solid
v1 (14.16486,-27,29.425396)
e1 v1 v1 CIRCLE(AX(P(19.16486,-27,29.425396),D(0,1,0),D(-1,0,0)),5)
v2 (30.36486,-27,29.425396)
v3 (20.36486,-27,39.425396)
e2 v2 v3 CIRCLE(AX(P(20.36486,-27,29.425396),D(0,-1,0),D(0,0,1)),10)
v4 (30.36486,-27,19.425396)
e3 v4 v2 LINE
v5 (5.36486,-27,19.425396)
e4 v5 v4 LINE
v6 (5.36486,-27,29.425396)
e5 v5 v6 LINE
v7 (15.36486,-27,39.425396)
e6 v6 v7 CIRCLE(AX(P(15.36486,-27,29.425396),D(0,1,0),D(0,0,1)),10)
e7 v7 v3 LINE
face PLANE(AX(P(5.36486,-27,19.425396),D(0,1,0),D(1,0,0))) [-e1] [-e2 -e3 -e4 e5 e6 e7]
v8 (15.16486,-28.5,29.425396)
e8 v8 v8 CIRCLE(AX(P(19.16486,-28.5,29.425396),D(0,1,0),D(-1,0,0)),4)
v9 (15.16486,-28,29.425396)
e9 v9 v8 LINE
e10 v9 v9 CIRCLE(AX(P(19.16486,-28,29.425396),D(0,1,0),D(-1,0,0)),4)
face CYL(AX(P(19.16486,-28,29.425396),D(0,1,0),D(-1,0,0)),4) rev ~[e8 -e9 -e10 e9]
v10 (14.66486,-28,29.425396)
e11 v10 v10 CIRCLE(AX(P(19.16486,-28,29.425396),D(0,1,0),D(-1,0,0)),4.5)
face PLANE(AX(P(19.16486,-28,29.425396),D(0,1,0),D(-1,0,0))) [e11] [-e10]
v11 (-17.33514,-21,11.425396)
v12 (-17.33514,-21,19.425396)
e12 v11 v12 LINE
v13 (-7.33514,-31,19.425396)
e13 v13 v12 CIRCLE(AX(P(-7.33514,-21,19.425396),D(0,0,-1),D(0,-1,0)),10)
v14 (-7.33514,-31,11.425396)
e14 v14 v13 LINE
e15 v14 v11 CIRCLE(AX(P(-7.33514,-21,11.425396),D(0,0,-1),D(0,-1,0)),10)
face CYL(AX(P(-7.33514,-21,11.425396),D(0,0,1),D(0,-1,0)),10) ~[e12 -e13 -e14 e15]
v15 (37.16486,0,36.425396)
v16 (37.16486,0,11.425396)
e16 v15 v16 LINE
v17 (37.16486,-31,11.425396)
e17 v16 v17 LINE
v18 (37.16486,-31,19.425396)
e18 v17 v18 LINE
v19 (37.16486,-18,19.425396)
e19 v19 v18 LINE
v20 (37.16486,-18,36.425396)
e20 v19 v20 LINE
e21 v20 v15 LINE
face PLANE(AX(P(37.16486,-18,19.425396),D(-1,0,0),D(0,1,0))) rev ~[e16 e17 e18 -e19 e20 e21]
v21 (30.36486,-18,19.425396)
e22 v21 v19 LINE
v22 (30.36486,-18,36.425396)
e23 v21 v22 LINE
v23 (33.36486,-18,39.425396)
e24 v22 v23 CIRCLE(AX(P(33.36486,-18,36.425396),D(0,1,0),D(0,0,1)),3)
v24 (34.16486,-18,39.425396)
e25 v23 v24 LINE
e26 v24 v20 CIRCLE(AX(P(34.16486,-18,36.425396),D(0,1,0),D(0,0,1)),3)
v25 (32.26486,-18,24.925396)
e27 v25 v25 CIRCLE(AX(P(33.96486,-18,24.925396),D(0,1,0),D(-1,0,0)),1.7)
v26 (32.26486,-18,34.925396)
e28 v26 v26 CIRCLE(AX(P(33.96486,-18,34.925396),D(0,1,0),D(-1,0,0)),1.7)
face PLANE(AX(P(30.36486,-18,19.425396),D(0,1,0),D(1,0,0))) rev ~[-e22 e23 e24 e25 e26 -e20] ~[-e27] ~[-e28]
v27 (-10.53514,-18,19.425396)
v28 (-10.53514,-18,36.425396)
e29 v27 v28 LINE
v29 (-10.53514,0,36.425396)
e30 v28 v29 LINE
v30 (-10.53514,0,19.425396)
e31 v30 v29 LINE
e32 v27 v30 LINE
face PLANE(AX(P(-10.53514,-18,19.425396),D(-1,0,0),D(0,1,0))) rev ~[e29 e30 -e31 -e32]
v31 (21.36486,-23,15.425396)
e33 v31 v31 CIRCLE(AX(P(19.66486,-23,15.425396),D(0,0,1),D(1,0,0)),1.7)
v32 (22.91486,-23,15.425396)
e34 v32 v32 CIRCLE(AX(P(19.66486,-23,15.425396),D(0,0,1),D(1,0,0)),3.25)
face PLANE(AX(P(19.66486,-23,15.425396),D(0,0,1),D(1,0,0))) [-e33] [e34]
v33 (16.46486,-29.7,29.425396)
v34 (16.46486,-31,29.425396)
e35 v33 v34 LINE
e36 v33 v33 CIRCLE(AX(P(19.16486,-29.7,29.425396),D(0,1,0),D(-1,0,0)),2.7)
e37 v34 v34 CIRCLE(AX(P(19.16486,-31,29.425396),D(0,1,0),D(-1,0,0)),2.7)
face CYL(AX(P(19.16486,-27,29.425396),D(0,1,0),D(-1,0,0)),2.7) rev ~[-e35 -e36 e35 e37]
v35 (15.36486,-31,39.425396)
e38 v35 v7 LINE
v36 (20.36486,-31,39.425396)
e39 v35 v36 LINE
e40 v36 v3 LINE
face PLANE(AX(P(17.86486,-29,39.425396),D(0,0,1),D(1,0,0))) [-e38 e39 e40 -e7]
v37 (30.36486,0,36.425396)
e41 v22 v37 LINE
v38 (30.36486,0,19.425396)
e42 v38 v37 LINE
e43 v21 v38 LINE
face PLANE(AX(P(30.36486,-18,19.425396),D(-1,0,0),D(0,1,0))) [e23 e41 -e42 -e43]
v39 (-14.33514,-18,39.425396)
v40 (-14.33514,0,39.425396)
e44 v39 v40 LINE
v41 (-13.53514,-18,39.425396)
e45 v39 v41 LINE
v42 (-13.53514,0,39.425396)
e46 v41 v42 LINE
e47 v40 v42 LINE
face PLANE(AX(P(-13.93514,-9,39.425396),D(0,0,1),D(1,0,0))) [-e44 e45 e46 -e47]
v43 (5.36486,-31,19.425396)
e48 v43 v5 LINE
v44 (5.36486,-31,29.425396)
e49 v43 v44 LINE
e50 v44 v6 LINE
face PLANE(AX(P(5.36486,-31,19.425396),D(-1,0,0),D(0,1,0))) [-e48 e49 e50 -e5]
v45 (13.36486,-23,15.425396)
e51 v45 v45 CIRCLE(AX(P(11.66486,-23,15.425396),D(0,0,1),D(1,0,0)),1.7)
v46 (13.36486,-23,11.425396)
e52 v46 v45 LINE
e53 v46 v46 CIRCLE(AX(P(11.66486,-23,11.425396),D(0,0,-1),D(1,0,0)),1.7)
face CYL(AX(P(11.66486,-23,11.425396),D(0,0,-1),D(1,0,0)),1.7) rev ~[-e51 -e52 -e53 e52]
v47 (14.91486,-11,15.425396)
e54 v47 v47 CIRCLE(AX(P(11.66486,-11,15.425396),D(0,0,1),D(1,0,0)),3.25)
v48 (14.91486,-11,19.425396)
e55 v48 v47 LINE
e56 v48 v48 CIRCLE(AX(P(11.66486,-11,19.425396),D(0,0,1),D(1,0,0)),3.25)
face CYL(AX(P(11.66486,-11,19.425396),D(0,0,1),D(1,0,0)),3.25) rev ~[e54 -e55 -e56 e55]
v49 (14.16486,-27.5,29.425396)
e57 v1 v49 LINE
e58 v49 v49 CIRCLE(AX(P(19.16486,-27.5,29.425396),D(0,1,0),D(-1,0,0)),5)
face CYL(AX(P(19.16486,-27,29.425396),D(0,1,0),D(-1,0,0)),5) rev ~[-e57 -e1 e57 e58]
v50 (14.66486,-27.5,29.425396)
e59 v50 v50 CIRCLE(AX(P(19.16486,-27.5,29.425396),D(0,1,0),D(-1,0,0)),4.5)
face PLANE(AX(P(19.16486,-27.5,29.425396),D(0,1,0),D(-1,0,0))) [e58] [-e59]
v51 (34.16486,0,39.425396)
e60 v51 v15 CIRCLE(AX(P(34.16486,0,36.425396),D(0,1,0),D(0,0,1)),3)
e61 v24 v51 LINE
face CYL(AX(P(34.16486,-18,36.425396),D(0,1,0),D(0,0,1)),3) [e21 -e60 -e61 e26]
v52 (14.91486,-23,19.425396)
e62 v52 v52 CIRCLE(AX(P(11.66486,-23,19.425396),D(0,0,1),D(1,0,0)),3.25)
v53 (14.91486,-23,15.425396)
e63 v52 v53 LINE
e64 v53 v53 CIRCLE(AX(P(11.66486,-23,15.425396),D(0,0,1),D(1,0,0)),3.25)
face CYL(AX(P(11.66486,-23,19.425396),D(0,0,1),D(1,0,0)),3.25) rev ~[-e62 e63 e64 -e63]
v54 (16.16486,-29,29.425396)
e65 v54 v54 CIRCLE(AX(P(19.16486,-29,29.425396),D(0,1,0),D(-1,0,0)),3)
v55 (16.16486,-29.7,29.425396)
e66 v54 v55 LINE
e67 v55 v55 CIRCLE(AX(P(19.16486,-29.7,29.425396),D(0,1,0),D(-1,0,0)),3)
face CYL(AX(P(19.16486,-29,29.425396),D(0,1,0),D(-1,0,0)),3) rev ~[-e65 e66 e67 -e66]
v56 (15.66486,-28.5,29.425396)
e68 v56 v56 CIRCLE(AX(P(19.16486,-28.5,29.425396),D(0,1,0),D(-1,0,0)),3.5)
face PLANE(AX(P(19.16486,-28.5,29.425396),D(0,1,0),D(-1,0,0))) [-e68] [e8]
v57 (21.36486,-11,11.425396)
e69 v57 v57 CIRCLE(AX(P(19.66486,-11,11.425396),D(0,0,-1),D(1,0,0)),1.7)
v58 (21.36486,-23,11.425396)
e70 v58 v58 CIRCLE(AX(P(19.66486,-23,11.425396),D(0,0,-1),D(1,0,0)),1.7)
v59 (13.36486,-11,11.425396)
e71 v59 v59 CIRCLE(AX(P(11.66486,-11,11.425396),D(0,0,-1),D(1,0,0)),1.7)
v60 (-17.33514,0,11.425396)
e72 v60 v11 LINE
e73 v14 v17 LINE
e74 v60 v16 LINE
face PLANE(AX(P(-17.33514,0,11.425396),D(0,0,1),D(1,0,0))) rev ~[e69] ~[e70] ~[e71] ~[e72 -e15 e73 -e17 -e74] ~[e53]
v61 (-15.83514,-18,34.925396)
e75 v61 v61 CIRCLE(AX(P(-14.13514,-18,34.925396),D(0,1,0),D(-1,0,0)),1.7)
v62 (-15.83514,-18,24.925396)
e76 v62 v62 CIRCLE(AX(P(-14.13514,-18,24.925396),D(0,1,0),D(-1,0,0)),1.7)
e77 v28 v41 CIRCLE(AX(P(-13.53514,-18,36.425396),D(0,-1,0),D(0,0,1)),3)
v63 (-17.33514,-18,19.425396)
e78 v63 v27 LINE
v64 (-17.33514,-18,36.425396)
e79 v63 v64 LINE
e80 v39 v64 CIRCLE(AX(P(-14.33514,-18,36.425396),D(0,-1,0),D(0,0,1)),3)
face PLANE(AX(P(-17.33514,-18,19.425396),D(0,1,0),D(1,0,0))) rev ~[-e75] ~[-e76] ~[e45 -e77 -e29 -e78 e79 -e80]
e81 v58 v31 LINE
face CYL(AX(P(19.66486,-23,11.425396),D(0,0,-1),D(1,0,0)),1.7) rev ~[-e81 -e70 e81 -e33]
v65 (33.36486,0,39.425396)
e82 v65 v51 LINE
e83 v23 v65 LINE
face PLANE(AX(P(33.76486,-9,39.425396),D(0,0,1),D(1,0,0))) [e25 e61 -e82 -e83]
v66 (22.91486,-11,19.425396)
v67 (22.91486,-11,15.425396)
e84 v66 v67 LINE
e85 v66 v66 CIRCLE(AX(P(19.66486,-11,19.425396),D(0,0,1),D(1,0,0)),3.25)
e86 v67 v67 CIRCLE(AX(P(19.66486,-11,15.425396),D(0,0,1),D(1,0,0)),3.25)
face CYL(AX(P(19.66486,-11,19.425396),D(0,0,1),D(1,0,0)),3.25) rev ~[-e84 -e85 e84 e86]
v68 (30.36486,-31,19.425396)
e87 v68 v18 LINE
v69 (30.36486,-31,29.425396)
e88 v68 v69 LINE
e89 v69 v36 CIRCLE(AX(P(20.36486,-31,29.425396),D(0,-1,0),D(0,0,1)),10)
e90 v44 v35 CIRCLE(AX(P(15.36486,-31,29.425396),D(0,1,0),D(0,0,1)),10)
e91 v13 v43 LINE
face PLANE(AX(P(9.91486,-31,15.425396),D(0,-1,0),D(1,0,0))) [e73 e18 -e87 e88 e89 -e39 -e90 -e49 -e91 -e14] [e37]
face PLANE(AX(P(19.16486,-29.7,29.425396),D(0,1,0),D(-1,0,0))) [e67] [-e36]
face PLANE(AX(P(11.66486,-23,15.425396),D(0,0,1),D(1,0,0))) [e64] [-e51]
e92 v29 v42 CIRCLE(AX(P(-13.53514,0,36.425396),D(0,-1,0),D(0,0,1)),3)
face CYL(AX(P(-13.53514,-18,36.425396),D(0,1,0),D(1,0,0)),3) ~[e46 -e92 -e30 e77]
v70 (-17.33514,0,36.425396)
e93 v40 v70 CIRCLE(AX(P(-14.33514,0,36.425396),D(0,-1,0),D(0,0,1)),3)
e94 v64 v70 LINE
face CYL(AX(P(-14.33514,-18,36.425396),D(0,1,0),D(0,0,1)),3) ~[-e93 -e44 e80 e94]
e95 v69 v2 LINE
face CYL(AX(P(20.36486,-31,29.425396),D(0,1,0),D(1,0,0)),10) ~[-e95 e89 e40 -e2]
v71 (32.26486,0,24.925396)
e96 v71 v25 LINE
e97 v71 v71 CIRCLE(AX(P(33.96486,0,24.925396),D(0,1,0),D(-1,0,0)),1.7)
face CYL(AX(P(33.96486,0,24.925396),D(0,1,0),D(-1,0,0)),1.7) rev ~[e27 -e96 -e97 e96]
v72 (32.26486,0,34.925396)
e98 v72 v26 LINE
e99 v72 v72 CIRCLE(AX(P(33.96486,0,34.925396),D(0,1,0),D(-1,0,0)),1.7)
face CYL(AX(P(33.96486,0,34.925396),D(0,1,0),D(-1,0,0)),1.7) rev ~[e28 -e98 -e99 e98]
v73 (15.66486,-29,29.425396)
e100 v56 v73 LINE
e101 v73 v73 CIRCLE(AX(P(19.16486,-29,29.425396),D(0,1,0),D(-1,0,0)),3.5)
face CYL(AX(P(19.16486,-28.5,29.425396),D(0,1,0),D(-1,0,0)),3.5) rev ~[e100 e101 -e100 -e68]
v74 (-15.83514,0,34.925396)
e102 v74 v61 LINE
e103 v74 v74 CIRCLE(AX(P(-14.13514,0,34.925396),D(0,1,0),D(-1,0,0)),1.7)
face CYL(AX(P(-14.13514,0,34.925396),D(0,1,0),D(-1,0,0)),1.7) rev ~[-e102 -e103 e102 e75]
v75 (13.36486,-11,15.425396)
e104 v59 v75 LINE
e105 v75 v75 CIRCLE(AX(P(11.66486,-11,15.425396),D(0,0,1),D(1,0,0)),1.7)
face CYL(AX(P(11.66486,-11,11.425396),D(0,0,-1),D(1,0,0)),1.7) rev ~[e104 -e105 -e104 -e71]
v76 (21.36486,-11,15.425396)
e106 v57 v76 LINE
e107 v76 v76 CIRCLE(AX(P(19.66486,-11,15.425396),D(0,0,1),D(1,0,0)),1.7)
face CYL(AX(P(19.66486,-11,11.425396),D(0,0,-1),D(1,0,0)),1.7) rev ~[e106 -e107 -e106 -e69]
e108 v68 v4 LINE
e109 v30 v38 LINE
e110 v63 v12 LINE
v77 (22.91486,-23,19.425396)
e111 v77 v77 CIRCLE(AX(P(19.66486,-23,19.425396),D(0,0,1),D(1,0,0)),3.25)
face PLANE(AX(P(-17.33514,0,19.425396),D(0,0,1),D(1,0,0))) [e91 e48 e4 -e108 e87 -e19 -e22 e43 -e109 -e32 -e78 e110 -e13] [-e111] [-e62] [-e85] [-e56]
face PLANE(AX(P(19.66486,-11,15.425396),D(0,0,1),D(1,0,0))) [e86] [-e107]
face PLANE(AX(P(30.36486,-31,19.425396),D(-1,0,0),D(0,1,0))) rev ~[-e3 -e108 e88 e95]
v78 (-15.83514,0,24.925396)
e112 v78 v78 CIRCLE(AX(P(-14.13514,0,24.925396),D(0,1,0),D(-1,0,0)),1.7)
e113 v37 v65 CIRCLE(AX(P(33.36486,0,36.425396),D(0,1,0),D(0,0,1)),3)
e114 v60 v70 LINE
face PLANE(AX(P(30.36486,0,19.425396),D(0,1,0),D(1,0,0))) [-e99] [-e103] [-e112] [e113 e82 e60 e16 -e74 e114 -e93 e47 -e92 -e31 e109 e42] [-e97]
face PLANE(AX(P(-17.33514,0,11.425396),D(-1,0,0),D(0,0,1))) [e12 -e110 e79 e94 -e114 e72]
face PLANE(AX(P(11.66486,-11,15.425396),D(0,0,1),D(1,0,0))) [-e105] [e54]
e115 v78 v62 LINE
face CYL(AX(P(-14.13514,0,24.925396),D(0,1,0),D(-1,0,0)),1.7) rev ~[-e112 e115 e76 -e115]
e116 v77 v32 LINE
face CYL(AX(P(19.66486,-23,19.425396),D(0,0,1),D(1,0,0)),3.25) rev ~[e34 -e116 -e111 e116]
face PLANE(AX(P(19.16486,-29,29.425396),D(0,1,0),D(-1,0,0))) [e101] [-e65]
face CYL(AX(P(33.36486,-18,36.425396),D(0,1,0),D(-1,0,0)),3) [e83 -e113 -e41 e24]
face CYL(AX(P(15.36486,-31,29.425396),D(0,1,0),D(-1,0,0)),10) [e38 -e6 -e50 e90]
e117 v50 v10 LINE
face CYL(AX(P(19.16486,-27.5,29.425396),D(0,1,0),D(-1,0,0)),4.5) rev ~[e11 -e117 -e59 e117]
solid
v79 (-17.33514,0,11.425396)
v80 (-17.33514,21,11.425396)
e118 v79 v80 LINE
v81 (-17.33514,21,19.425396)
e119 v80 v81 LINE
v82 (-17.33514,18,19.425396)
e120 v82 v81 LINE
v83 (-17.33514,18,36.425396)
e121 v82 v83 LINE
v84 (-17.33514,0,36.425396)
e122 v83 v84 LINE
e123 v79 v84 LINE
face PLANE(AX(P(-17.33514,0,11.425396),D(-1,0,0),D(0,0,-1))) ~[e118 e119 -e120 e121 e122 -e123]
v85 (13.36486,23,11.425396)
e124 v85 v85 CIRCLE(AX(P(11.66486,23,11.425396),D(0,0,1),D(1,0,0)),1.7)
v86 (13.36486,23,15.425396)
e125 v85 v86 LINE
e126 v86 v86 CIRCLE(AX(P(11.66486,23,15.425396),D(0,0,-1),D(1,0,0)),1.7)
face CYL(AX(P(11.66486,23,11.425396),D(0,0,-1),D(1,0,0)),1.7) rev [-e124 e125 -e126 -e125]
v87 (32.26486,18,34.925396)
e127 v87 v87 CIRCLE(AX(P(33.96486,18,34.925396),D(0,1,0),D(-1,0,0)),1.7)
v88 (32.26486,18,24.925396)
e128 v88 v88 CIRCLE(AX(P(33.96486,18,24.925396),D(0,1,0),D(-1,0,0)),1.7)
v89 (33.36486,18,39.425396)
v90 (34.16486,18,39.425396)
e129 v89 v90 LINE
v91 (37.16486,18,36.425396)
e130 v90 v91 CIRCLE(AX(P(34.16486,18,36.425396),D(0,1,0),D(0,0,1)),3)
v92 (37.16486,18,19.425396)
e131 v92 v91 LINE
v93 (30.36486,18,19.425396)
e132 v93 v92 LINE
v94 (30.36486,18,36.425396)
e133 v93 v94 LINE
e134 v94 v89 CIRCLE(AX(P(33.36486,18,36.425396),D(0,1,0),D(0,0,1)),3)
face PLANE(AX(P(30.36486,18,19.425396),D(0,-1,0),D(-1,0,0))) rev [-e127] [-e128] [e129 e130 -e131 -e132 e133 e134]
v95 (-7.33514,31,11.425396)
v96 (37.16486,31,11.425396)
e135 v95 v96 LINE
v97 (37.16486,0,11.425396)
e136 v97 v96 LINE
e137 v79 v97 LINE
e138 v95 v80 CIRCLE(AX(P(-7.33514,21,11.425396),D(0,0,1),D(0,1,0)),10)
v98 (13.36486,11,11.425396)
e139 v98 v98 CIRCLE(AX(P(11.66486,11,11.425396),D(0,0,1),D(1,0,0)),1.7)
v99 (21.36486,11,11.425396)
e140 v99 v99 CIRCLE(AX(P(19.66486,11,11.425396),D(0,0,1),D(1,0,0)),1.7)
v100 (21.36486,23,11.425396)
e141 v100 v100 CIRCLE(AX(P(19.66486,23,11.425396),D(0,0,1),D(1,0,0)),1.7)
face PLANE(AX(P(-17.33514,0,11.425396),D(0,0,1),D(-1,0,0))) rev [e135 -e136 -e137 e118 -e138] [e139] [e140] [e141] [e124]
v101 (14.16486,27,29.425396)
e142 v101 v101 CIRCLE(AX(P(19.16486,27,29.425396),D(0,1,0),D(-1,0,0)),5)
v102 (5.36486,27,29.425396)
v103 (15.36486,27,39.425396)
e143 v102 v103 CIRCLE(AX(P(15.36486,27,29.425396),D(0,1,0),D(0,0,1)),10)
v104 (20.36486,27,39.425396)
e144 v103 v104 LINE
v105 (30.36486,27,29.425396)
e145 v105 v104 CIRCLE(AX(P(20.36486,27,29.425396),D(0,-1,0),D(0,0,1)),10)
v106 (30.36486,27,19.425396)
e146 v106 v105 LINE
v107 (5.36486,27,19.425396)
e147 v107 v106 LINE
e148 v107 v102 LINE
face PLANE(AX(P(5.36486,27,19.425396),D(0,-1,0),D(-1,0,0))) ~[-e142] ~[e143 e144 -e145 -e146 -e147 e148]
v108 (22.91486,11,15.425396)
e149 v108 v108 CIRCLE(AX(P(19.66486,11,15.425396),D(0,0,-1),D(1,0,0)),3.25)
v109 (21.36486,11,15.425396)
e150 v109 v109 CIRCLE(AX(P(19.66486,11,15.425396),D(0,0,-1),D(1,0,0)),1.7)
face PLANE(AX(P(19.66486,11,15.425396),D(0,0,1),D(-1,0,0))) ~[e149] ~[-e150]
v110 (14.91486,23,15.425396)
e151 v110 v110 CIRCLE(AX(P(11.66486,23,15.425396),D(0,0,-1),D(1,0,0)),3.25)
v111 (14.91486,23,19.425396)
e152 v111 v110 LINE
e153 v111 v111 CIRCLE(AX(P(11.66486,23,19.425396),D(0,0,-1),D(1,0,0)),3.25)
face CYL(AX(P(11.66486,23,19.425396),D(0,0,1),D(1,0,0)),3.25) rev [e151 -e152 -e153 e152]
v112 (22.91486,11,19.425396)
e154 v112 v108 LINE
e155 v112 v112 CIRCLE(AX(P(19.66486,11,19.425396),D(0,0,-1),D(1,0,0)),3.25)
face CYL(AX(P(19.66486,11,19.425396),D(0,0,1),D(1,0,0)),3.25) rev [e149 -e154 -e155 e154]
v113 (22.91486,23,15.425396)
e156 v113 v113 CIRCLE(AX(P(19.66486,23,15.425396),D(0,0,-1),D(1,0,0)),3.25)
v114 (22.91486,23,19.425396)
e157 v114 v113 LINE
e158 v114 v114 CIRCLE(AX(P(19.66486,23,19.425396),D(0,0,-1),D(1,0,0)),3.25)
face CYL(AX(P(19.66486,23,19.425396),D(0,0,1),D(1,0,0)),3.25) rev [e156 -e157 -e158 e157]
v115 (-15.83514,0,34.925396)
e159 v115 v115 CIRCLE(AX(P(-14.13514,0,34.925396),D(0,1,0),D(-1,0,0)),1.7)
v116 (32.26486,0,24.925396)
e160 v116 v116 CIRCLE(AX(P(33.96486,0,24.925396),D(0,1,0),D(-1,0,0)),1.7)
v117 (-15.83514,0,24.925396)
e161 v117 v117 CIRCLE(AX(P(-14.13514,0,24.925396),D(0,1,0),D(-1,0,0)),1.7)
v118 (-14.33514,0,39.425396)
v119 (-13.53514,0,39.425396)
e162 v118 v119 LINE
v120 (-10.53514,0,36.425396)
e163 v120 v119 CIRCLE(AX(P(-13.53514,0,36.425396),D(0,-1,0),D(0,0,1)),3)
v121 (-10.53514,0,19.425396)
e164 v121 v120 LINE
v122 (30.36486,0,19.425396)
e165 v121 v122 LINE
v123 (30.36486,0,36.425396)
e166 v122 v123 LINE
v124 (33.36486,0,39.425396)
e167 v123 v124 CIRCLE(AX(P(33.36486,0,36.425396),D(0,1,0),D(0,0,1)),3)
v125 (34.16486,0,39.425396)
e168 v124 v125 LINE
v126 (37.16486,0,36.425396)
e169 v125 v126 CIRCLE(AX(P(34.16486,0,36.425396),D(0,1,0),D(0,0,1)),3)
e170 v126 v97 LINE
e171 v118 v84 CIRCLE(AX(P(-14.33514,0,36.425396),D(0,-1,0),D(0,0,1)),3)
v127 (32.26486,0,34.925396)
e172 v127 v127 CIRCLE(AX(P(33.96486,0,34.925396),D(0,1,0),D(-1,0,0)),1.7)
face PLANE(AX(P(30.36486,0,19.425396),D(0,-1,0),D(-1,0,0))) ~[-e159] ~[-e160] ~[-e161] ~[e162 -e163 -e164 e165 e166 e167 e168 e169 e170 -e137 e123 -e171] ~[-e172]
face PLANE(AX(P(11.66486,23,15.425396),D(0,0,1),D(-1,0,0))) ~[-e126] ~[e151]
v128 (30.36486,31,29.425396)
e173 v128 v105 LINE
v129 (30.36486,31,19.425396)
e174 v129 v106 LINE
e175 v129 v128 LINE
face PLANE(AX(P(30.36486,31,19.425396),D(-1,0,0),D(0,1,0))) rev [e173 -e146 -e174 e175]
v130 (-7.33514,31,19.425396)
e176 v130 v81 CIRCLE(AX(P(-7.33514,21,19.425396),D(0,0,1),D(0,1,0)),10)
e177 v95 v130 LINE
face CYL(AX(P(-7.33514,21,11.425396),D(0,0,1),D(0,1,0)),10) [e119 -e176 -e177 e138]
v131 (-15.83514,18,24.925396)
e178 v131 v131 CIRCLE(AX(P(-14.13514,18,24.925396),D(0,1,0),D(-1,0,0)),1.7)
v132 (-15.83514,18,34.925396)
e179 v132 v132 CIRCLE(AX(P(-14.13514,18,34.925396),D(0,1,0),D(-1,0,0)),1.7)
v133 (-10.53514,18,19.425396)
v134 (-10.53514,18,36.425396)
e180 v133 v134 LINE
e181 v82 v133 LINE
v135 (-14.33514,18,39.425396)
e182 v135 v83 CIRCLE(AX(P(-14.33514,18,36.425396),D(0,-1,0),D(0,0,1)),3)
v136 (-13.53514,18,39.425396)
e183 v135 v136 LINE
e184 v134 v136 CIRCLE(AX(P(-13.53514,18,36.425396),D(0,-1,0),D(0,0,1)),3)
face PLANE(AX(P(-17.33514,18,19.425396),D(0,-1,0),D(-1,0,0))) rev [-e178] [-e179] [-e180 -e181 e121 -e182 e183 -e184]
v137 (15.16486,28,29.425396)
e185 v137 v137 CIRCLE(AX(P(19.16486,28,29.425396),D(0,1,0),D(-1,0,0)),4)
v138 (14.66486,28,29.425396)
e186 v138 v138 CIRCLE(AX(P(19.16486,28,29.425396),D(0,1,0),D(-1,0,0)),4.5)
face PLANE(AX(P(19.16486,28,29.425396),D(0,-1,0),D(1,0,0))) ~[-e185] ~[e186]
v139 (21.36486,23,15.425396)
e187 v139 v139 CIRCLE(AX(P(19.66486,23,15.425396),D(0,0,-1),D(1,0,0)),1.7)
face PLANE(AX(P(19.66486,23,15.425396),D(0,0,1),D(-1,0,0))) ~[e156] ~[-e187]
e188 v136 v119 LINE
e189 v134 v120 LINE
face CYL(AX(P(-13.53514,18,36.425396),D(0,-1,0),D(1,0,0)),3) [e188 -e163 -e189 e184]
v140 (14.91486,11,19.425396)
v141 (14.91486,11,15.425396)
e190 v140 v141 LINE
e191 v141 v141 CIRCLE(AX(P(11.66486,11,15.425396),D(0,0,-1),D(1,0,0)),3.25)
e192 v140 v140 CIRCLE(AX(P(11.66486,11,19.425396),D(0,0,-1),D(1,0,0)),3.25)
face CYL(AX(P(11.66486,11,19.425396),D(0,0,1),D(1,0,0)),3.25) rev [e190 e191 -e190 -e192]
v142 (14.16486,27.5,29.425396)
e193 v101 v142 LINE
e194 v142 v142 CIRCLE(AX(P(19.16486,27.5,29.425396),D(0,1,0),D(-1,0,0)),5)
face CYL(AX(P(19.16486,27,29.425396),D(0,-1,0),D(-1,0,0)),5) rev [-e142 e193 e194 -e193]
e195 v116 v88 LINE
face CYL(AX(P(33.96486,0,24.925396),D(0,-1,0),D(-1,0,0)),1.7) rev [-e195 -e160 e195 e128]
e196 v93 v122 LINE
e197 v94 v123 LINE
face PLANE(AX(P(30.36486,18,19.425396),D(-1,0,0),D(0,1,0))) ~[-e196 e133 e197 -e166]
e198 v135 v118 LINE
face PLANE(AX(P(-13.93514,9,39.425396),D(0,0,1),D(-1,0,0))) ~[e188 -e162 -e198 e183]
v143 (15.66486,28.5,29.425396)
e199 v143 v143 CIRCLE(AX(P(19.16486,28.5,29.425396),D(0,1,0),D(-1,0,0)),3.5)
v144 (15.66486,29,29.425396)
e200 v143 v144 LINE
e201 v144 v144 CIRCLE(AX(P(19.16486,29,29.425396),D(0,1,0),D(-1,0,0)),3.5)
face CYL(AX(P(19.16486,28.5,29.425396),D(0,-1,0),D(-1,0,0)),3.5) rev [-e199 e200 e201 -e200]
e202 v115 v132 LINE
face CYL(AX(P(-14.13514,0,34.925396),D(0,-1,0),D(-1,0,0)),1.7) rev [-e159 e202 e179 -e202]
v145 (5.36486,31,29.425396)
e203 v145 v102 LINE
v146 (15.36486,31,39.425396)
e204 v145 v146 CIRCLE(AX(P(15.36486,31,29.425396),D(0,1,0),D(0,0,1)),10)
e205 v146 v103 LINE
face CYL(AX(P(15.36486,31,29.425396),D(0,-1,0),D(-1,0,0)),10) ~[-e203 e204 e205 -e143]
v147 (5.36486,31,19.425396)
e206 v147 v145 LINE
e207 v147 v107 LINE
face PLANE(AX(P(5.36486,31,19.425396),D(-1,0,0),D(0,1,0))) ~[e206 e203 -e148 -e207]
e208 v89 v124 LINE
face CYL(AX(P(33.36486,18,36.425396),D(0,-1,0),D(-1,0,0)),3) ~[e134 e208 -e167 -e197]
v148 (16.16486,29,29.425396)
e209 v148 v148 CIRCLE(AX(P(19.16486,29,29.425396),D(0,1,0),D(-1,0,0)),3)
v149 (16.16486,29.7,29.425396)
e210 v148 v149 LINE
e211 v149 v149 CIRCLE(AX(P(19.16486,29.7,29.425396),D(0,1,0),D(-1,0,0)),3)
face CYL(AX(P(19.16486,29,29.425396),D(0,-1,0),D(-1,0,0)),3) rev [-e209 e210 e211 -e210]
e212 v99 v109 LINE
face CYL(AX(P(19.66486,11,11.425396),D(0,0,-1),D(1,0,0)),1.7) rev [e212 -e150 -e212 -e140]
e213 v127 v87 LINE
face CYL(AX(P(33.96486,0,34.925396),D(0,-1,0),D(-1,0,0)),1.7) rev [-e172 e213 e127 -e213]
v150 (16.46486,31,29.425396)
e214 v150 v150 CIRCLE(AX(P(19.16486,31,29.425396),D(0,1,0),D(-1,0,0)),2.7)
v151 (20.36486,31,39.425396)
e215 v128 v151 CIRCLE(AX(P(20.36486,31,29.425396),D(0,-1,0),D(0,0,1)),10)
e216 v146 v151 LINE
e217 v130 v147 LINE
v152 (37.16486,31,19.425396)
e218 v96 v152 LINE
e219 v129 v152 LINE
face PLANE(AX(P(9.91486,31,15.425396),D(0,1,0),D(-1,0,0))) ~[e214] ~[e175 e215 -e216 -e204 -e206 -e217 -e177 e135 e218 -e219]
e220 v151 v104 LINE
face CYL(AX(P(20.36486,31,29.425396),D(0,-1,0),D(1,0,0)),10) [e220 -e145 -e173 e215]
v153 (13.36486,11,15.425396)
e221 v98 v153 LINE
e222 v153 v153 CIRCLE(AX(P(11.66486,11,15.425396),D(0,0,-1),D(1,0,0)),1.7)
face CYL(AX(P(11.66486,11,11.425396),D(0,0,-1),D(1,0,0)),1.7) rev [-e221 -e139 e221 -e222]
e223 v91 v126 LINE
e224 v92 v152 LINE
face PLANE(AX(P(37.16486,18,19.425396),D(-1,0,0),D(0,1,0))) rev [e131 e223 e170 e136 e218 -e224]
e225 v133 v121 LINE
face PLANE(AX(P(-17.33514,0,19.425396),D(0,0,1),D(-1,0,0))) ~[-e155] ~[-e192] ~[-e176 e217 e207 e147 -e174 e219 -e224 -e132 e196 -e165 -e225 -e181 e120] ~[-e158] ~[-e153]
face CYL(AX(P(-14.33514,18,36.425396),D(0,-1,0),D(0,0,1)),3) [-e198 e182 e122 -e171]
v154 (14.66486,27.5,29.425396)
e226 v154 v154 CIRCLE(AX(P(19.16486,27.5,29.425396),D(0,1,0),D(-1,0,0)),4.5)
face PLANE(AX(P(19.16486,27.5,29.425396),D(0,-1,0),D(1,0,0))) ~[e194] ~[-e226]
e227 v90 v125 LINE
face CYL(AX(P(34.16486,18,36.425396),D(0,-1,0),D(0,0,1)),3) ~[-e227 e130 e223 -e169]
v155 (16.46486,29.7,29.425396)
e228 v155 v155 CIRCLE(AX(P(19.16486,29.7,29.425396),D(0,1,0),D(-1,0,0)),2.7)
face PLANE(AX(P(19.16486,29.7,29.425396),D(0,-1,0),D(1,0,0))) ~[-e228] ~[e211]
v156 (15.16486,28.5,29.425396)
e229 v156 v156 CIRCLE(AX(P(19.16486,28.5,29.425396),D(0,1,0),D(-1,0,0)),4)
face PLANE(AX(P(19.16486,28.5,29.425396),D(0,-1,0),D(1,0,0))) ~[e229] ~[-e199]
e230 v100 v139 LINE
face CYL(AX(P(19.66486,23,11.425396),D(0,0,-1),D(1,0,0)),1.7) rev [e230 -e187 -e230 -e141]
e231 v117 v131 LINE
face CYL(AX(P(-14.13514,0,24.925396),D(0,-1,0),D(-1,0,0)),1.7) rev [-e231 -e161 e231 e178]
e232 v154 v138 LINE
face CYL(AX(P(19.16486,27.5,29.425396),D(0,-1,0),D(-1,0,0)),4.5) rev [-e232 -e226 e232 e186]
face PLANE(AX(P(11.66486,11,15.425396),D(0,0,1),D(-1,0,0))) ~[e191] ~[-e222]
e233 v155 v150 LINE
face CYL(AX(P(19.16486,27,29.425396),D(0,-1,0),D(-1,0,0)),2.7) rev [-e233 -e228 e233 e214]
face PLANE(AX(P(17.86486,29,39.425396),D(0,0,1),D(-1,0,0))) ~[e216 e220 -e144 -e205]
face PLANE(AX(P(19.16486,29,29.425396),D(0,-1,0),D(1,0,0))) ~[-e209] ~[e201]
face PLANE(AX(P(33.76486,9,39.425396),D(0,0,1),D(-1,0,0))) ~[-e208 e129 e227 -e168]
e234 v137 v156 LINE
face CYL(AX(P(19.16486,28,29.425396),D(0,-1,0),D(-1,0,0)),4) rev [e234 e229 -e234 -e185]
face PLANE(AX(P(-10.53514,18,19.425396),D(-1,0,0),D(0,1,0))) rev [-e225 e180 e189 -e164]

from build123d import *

# Parameters (mm, degrees)
F0_W      = 54.5
F0_H      = 8
F1_DEPTH  = 31
F2_W      = 6.8
F2_H      = 18
F2_W_2    = 25
F2_H_2    = 4
F3_DEPTH  = 20
F4_R      = 1.7
F5_DEPTH  = 28.001
F6_R      = 3.25
F6_R_2    = 1.7
F7_DEPTH  = 4
F8_R      = 1.7
F9_DEPTH  = 31.001
F10_R     = 2.7
F11_DEPTH = 4.001
F12_R     = 5
F12_R_2   = 2.7
F13_DEPTH = 0.5
F14_R     = 4.5
F14_R_2   = 2.7
F15_DEPTH = 0.5
F16_R     = 4
F16_R_2   = 2.7
F17_DEPTH = 0.5
F18_R     = 3.5
F18_R_2   = 2.7
F19_DEPTH = 0.5
F20_R     = 3
F20_R_2   = 2.7
F21_DEPTH = 0.7
F22_R     = 3
F23_R     = 10
F24_R     = 10


with BuildPart() as f1:
    # F0 (on Front) → F1 (new body)
    with BuildSketch(Plane.XZ):
        with Locations((9.91486, 15.425396)):
            Rectangle(F0_W, F0_H)
    extrude(amount=F1_DEPTH)

    # F2 (on face) → F3 (join)
    with BuildSketch(Plane.XY.offset(19.425396)):
        with Locations((33.76486, -9)):
            Rectangle(F2_W, F2_H)
        with Locations((-13.93514, -9)):
            Rectangle(F2_W, F2_H)
        with Locations((17.86486, -29)):
            Rectangle(F2_W_2, F2_H_2)
    extrude(amount=F3_DEPTH)

    # F4 (on face) → F5 (cut, through all)
    with BuildSketch(Plane(origin=(0, 0, 11.425396), x_dir=(1, 0, 0), z_dir=(0, 0, -1))):
        with Locations((19.66486, 11)):
            Circle(F4_R)
        with Locations((11.66486, 11)):
            Circle(F4_R)
        with Locations((19.66486, 23)):
            Circle(F4_R)
        with Locations((11.66486, 23)):
            Circle(F4_R)
    extrude(amount=-F5_DEPTH, mode=Mode.SUBTRACT)

    # F6 (on face) → F7 (cut)
    with BuildSketch(Plane.XY.offset(19.425396)):
        with Locations((11.66486, -11)):
            Circle(F6_R)
        with Locations((11.66486, -11)):
            Circle(F6_R_2, mode=Mode.SUBTRACT)
        with Locations((19.66486, -11)):
            Circle(F6_R)
        with Locations((19.66486, -11)):
            Circle(F6_R_2, mode=Mode.SUBTRACT)
        with Locations((19.66486, -23)):
            Circle(F6_R)
        with Locations((19.66486, -23)):
            Circle(F6_R_2, mode=Mode.SUBTRACT)
        with Locations((11.66486, -23)):
            Circle(F6_R)
        with Locations((11.66486, -23)):
            Circle(F6_R_2, mode=Mode.SUBTRACT)
    extrude(amount=-F7_DEPTH, mode=Mode.SUBTRACT)

    # F8 (on face) → F9 (cut, through all)
    with BuildSketch(Plane(origin=(0, 0, 0), x_dir=(-1, 0, 0), z_dir=(0, 1, 0))):
        with Locations((14.13514, 24.925396)):
            Circle(F8_R)
        with Locations((14.13514, 34.925396)):
            Circle(F8_R)
        with Locations((-33.96486, 24.925396)):
            Circle(F8_R)
        with Locations((-33.96486, 34.925396)):
            Circle(F8_R)
    extrude(amount=-F9_DEPTH, mode=Mode.SUBTRACT)

    # F10 (on face) → F11 (cut, through all)
    with BuildSketch(Plane(origin=(0, -27, 0), x_dir=(-1, 0, 0), z_dir=(0, 1, 0))):
        with Locations((-19.16486, 29.425396)):
            Circle(F10_R)
    extrude(amount=-F11_DEPTH, mode=Mode.SUBTRACT)

    # F12 (on face) → F13 (cut)
    with BuildSketch(Plane(origin=(0, -27, 0), x_dir=(-1, 0, 0), z_dir=(0, 1, 0))):
        with Locations((-19.16486, 29.425396)):
            Circle(F12_R)
        with Locations((-19.16486, 29.425396)):
            Circle(F12_R_2, mode=Mode.SUBTRACT)
    extrude(amount=-F13_DEPTH, mode=Mode.SUBTRACT)

    # F14 (on face) → F15 (cut)
    with BuildSketch(Plane(origin=(0, -27.5, 0), x_dir=(-1, 0, 0), z_dir=(0, 1, 0))):
        with Locations((-19.16486, 29.425396)):
            Circle(F14_R)
        with Locations((-19.16486, 29.425396)):
            Circle(F14_R_2, mode=Mode.SUBTRACT)
    extrude(amount=-F15_DEPTH, mode=Mode.SUBTRACT)

    # F16 (on face) → F17 (cut)
    with BuildSketch(Plane(origin=(0, -28, 0), x_dir=(-1, 0, 0), z_dir=(0, 1, 0))):
        with Locations((-19.16486, 29.425396)):
            Circle(F16_R)
        with Locations((-19.16486, 29.425396)):
            Circle(F16_R_2, mode=Mode.SUBTRACT)
    extrude(amount=-F17_DEPTH, mode=Mode.SUBTRACT)

    # F18 (on face) → F19 (cut)
    with BuildSketch(Plane(origin=(0, -28.5, 0), x_dir=(-1, 0, 0), z_dir=(0, 1, 0))):
        with Locations((-19.16486, 29.425396)):
            Circle(F18_R)
        with Locations((-19.16486, 29.425396)):
            Circle(F18_R_2, mode=Mode.SUBTRACT)
    extrude(amount=-F19_DEPTH, mode=Mode.SUBTRACT)

    # F20 (on face) → F21 (cut)
    with BuildSketch(Plane(origin=(0, -29, 0), x_dir=(-1, 0, 0), z_dir=(0, 1, 0))):
        with Locations((-19.16486, 29.425396)):
            Circle(F20_R)
        with Locations((-19.16486, 29.425396)):
            Circle(F20_R_2, mode=Mode.SUBTRACT)
    extrude(amount=-F21_DEPTH, mode=Mode.SUBTRACT)

    # F22
    f22_edges = [f1.edges().sort_by_distance(p)[0] for p in [
        (-17.33514, -9, 39.425396),
        (-10.53514, -9, 39.425396),
        (30.36486, -9, 39.425396),
        (37.16486, -9, 39.425396),
    ]]
    fillet(f22_edges, radius=F22_R)

    # F23
    f23_edges = [f1.edges().sort_by_distance(p)[0] for p in [
        (5.36486, -29, 39.425396),
        (30.36486, -29, 39.425396),
    ]]
    fillet(f23_edges, radius=F23_R)

    # F24
    f24_edges = [f1.edges().sort_by_distance(p)[0] for p in [
        (-17.33514, -31, 15.425396),
    ]]
    fillet(f24_edges, radius=F24_R)


with BuildPart() as f25_1:
    # F25: instance of F1
    add(f1.part.mirror(Plane.XZ))


solid = Compound([f1.part, f25_1.part])
